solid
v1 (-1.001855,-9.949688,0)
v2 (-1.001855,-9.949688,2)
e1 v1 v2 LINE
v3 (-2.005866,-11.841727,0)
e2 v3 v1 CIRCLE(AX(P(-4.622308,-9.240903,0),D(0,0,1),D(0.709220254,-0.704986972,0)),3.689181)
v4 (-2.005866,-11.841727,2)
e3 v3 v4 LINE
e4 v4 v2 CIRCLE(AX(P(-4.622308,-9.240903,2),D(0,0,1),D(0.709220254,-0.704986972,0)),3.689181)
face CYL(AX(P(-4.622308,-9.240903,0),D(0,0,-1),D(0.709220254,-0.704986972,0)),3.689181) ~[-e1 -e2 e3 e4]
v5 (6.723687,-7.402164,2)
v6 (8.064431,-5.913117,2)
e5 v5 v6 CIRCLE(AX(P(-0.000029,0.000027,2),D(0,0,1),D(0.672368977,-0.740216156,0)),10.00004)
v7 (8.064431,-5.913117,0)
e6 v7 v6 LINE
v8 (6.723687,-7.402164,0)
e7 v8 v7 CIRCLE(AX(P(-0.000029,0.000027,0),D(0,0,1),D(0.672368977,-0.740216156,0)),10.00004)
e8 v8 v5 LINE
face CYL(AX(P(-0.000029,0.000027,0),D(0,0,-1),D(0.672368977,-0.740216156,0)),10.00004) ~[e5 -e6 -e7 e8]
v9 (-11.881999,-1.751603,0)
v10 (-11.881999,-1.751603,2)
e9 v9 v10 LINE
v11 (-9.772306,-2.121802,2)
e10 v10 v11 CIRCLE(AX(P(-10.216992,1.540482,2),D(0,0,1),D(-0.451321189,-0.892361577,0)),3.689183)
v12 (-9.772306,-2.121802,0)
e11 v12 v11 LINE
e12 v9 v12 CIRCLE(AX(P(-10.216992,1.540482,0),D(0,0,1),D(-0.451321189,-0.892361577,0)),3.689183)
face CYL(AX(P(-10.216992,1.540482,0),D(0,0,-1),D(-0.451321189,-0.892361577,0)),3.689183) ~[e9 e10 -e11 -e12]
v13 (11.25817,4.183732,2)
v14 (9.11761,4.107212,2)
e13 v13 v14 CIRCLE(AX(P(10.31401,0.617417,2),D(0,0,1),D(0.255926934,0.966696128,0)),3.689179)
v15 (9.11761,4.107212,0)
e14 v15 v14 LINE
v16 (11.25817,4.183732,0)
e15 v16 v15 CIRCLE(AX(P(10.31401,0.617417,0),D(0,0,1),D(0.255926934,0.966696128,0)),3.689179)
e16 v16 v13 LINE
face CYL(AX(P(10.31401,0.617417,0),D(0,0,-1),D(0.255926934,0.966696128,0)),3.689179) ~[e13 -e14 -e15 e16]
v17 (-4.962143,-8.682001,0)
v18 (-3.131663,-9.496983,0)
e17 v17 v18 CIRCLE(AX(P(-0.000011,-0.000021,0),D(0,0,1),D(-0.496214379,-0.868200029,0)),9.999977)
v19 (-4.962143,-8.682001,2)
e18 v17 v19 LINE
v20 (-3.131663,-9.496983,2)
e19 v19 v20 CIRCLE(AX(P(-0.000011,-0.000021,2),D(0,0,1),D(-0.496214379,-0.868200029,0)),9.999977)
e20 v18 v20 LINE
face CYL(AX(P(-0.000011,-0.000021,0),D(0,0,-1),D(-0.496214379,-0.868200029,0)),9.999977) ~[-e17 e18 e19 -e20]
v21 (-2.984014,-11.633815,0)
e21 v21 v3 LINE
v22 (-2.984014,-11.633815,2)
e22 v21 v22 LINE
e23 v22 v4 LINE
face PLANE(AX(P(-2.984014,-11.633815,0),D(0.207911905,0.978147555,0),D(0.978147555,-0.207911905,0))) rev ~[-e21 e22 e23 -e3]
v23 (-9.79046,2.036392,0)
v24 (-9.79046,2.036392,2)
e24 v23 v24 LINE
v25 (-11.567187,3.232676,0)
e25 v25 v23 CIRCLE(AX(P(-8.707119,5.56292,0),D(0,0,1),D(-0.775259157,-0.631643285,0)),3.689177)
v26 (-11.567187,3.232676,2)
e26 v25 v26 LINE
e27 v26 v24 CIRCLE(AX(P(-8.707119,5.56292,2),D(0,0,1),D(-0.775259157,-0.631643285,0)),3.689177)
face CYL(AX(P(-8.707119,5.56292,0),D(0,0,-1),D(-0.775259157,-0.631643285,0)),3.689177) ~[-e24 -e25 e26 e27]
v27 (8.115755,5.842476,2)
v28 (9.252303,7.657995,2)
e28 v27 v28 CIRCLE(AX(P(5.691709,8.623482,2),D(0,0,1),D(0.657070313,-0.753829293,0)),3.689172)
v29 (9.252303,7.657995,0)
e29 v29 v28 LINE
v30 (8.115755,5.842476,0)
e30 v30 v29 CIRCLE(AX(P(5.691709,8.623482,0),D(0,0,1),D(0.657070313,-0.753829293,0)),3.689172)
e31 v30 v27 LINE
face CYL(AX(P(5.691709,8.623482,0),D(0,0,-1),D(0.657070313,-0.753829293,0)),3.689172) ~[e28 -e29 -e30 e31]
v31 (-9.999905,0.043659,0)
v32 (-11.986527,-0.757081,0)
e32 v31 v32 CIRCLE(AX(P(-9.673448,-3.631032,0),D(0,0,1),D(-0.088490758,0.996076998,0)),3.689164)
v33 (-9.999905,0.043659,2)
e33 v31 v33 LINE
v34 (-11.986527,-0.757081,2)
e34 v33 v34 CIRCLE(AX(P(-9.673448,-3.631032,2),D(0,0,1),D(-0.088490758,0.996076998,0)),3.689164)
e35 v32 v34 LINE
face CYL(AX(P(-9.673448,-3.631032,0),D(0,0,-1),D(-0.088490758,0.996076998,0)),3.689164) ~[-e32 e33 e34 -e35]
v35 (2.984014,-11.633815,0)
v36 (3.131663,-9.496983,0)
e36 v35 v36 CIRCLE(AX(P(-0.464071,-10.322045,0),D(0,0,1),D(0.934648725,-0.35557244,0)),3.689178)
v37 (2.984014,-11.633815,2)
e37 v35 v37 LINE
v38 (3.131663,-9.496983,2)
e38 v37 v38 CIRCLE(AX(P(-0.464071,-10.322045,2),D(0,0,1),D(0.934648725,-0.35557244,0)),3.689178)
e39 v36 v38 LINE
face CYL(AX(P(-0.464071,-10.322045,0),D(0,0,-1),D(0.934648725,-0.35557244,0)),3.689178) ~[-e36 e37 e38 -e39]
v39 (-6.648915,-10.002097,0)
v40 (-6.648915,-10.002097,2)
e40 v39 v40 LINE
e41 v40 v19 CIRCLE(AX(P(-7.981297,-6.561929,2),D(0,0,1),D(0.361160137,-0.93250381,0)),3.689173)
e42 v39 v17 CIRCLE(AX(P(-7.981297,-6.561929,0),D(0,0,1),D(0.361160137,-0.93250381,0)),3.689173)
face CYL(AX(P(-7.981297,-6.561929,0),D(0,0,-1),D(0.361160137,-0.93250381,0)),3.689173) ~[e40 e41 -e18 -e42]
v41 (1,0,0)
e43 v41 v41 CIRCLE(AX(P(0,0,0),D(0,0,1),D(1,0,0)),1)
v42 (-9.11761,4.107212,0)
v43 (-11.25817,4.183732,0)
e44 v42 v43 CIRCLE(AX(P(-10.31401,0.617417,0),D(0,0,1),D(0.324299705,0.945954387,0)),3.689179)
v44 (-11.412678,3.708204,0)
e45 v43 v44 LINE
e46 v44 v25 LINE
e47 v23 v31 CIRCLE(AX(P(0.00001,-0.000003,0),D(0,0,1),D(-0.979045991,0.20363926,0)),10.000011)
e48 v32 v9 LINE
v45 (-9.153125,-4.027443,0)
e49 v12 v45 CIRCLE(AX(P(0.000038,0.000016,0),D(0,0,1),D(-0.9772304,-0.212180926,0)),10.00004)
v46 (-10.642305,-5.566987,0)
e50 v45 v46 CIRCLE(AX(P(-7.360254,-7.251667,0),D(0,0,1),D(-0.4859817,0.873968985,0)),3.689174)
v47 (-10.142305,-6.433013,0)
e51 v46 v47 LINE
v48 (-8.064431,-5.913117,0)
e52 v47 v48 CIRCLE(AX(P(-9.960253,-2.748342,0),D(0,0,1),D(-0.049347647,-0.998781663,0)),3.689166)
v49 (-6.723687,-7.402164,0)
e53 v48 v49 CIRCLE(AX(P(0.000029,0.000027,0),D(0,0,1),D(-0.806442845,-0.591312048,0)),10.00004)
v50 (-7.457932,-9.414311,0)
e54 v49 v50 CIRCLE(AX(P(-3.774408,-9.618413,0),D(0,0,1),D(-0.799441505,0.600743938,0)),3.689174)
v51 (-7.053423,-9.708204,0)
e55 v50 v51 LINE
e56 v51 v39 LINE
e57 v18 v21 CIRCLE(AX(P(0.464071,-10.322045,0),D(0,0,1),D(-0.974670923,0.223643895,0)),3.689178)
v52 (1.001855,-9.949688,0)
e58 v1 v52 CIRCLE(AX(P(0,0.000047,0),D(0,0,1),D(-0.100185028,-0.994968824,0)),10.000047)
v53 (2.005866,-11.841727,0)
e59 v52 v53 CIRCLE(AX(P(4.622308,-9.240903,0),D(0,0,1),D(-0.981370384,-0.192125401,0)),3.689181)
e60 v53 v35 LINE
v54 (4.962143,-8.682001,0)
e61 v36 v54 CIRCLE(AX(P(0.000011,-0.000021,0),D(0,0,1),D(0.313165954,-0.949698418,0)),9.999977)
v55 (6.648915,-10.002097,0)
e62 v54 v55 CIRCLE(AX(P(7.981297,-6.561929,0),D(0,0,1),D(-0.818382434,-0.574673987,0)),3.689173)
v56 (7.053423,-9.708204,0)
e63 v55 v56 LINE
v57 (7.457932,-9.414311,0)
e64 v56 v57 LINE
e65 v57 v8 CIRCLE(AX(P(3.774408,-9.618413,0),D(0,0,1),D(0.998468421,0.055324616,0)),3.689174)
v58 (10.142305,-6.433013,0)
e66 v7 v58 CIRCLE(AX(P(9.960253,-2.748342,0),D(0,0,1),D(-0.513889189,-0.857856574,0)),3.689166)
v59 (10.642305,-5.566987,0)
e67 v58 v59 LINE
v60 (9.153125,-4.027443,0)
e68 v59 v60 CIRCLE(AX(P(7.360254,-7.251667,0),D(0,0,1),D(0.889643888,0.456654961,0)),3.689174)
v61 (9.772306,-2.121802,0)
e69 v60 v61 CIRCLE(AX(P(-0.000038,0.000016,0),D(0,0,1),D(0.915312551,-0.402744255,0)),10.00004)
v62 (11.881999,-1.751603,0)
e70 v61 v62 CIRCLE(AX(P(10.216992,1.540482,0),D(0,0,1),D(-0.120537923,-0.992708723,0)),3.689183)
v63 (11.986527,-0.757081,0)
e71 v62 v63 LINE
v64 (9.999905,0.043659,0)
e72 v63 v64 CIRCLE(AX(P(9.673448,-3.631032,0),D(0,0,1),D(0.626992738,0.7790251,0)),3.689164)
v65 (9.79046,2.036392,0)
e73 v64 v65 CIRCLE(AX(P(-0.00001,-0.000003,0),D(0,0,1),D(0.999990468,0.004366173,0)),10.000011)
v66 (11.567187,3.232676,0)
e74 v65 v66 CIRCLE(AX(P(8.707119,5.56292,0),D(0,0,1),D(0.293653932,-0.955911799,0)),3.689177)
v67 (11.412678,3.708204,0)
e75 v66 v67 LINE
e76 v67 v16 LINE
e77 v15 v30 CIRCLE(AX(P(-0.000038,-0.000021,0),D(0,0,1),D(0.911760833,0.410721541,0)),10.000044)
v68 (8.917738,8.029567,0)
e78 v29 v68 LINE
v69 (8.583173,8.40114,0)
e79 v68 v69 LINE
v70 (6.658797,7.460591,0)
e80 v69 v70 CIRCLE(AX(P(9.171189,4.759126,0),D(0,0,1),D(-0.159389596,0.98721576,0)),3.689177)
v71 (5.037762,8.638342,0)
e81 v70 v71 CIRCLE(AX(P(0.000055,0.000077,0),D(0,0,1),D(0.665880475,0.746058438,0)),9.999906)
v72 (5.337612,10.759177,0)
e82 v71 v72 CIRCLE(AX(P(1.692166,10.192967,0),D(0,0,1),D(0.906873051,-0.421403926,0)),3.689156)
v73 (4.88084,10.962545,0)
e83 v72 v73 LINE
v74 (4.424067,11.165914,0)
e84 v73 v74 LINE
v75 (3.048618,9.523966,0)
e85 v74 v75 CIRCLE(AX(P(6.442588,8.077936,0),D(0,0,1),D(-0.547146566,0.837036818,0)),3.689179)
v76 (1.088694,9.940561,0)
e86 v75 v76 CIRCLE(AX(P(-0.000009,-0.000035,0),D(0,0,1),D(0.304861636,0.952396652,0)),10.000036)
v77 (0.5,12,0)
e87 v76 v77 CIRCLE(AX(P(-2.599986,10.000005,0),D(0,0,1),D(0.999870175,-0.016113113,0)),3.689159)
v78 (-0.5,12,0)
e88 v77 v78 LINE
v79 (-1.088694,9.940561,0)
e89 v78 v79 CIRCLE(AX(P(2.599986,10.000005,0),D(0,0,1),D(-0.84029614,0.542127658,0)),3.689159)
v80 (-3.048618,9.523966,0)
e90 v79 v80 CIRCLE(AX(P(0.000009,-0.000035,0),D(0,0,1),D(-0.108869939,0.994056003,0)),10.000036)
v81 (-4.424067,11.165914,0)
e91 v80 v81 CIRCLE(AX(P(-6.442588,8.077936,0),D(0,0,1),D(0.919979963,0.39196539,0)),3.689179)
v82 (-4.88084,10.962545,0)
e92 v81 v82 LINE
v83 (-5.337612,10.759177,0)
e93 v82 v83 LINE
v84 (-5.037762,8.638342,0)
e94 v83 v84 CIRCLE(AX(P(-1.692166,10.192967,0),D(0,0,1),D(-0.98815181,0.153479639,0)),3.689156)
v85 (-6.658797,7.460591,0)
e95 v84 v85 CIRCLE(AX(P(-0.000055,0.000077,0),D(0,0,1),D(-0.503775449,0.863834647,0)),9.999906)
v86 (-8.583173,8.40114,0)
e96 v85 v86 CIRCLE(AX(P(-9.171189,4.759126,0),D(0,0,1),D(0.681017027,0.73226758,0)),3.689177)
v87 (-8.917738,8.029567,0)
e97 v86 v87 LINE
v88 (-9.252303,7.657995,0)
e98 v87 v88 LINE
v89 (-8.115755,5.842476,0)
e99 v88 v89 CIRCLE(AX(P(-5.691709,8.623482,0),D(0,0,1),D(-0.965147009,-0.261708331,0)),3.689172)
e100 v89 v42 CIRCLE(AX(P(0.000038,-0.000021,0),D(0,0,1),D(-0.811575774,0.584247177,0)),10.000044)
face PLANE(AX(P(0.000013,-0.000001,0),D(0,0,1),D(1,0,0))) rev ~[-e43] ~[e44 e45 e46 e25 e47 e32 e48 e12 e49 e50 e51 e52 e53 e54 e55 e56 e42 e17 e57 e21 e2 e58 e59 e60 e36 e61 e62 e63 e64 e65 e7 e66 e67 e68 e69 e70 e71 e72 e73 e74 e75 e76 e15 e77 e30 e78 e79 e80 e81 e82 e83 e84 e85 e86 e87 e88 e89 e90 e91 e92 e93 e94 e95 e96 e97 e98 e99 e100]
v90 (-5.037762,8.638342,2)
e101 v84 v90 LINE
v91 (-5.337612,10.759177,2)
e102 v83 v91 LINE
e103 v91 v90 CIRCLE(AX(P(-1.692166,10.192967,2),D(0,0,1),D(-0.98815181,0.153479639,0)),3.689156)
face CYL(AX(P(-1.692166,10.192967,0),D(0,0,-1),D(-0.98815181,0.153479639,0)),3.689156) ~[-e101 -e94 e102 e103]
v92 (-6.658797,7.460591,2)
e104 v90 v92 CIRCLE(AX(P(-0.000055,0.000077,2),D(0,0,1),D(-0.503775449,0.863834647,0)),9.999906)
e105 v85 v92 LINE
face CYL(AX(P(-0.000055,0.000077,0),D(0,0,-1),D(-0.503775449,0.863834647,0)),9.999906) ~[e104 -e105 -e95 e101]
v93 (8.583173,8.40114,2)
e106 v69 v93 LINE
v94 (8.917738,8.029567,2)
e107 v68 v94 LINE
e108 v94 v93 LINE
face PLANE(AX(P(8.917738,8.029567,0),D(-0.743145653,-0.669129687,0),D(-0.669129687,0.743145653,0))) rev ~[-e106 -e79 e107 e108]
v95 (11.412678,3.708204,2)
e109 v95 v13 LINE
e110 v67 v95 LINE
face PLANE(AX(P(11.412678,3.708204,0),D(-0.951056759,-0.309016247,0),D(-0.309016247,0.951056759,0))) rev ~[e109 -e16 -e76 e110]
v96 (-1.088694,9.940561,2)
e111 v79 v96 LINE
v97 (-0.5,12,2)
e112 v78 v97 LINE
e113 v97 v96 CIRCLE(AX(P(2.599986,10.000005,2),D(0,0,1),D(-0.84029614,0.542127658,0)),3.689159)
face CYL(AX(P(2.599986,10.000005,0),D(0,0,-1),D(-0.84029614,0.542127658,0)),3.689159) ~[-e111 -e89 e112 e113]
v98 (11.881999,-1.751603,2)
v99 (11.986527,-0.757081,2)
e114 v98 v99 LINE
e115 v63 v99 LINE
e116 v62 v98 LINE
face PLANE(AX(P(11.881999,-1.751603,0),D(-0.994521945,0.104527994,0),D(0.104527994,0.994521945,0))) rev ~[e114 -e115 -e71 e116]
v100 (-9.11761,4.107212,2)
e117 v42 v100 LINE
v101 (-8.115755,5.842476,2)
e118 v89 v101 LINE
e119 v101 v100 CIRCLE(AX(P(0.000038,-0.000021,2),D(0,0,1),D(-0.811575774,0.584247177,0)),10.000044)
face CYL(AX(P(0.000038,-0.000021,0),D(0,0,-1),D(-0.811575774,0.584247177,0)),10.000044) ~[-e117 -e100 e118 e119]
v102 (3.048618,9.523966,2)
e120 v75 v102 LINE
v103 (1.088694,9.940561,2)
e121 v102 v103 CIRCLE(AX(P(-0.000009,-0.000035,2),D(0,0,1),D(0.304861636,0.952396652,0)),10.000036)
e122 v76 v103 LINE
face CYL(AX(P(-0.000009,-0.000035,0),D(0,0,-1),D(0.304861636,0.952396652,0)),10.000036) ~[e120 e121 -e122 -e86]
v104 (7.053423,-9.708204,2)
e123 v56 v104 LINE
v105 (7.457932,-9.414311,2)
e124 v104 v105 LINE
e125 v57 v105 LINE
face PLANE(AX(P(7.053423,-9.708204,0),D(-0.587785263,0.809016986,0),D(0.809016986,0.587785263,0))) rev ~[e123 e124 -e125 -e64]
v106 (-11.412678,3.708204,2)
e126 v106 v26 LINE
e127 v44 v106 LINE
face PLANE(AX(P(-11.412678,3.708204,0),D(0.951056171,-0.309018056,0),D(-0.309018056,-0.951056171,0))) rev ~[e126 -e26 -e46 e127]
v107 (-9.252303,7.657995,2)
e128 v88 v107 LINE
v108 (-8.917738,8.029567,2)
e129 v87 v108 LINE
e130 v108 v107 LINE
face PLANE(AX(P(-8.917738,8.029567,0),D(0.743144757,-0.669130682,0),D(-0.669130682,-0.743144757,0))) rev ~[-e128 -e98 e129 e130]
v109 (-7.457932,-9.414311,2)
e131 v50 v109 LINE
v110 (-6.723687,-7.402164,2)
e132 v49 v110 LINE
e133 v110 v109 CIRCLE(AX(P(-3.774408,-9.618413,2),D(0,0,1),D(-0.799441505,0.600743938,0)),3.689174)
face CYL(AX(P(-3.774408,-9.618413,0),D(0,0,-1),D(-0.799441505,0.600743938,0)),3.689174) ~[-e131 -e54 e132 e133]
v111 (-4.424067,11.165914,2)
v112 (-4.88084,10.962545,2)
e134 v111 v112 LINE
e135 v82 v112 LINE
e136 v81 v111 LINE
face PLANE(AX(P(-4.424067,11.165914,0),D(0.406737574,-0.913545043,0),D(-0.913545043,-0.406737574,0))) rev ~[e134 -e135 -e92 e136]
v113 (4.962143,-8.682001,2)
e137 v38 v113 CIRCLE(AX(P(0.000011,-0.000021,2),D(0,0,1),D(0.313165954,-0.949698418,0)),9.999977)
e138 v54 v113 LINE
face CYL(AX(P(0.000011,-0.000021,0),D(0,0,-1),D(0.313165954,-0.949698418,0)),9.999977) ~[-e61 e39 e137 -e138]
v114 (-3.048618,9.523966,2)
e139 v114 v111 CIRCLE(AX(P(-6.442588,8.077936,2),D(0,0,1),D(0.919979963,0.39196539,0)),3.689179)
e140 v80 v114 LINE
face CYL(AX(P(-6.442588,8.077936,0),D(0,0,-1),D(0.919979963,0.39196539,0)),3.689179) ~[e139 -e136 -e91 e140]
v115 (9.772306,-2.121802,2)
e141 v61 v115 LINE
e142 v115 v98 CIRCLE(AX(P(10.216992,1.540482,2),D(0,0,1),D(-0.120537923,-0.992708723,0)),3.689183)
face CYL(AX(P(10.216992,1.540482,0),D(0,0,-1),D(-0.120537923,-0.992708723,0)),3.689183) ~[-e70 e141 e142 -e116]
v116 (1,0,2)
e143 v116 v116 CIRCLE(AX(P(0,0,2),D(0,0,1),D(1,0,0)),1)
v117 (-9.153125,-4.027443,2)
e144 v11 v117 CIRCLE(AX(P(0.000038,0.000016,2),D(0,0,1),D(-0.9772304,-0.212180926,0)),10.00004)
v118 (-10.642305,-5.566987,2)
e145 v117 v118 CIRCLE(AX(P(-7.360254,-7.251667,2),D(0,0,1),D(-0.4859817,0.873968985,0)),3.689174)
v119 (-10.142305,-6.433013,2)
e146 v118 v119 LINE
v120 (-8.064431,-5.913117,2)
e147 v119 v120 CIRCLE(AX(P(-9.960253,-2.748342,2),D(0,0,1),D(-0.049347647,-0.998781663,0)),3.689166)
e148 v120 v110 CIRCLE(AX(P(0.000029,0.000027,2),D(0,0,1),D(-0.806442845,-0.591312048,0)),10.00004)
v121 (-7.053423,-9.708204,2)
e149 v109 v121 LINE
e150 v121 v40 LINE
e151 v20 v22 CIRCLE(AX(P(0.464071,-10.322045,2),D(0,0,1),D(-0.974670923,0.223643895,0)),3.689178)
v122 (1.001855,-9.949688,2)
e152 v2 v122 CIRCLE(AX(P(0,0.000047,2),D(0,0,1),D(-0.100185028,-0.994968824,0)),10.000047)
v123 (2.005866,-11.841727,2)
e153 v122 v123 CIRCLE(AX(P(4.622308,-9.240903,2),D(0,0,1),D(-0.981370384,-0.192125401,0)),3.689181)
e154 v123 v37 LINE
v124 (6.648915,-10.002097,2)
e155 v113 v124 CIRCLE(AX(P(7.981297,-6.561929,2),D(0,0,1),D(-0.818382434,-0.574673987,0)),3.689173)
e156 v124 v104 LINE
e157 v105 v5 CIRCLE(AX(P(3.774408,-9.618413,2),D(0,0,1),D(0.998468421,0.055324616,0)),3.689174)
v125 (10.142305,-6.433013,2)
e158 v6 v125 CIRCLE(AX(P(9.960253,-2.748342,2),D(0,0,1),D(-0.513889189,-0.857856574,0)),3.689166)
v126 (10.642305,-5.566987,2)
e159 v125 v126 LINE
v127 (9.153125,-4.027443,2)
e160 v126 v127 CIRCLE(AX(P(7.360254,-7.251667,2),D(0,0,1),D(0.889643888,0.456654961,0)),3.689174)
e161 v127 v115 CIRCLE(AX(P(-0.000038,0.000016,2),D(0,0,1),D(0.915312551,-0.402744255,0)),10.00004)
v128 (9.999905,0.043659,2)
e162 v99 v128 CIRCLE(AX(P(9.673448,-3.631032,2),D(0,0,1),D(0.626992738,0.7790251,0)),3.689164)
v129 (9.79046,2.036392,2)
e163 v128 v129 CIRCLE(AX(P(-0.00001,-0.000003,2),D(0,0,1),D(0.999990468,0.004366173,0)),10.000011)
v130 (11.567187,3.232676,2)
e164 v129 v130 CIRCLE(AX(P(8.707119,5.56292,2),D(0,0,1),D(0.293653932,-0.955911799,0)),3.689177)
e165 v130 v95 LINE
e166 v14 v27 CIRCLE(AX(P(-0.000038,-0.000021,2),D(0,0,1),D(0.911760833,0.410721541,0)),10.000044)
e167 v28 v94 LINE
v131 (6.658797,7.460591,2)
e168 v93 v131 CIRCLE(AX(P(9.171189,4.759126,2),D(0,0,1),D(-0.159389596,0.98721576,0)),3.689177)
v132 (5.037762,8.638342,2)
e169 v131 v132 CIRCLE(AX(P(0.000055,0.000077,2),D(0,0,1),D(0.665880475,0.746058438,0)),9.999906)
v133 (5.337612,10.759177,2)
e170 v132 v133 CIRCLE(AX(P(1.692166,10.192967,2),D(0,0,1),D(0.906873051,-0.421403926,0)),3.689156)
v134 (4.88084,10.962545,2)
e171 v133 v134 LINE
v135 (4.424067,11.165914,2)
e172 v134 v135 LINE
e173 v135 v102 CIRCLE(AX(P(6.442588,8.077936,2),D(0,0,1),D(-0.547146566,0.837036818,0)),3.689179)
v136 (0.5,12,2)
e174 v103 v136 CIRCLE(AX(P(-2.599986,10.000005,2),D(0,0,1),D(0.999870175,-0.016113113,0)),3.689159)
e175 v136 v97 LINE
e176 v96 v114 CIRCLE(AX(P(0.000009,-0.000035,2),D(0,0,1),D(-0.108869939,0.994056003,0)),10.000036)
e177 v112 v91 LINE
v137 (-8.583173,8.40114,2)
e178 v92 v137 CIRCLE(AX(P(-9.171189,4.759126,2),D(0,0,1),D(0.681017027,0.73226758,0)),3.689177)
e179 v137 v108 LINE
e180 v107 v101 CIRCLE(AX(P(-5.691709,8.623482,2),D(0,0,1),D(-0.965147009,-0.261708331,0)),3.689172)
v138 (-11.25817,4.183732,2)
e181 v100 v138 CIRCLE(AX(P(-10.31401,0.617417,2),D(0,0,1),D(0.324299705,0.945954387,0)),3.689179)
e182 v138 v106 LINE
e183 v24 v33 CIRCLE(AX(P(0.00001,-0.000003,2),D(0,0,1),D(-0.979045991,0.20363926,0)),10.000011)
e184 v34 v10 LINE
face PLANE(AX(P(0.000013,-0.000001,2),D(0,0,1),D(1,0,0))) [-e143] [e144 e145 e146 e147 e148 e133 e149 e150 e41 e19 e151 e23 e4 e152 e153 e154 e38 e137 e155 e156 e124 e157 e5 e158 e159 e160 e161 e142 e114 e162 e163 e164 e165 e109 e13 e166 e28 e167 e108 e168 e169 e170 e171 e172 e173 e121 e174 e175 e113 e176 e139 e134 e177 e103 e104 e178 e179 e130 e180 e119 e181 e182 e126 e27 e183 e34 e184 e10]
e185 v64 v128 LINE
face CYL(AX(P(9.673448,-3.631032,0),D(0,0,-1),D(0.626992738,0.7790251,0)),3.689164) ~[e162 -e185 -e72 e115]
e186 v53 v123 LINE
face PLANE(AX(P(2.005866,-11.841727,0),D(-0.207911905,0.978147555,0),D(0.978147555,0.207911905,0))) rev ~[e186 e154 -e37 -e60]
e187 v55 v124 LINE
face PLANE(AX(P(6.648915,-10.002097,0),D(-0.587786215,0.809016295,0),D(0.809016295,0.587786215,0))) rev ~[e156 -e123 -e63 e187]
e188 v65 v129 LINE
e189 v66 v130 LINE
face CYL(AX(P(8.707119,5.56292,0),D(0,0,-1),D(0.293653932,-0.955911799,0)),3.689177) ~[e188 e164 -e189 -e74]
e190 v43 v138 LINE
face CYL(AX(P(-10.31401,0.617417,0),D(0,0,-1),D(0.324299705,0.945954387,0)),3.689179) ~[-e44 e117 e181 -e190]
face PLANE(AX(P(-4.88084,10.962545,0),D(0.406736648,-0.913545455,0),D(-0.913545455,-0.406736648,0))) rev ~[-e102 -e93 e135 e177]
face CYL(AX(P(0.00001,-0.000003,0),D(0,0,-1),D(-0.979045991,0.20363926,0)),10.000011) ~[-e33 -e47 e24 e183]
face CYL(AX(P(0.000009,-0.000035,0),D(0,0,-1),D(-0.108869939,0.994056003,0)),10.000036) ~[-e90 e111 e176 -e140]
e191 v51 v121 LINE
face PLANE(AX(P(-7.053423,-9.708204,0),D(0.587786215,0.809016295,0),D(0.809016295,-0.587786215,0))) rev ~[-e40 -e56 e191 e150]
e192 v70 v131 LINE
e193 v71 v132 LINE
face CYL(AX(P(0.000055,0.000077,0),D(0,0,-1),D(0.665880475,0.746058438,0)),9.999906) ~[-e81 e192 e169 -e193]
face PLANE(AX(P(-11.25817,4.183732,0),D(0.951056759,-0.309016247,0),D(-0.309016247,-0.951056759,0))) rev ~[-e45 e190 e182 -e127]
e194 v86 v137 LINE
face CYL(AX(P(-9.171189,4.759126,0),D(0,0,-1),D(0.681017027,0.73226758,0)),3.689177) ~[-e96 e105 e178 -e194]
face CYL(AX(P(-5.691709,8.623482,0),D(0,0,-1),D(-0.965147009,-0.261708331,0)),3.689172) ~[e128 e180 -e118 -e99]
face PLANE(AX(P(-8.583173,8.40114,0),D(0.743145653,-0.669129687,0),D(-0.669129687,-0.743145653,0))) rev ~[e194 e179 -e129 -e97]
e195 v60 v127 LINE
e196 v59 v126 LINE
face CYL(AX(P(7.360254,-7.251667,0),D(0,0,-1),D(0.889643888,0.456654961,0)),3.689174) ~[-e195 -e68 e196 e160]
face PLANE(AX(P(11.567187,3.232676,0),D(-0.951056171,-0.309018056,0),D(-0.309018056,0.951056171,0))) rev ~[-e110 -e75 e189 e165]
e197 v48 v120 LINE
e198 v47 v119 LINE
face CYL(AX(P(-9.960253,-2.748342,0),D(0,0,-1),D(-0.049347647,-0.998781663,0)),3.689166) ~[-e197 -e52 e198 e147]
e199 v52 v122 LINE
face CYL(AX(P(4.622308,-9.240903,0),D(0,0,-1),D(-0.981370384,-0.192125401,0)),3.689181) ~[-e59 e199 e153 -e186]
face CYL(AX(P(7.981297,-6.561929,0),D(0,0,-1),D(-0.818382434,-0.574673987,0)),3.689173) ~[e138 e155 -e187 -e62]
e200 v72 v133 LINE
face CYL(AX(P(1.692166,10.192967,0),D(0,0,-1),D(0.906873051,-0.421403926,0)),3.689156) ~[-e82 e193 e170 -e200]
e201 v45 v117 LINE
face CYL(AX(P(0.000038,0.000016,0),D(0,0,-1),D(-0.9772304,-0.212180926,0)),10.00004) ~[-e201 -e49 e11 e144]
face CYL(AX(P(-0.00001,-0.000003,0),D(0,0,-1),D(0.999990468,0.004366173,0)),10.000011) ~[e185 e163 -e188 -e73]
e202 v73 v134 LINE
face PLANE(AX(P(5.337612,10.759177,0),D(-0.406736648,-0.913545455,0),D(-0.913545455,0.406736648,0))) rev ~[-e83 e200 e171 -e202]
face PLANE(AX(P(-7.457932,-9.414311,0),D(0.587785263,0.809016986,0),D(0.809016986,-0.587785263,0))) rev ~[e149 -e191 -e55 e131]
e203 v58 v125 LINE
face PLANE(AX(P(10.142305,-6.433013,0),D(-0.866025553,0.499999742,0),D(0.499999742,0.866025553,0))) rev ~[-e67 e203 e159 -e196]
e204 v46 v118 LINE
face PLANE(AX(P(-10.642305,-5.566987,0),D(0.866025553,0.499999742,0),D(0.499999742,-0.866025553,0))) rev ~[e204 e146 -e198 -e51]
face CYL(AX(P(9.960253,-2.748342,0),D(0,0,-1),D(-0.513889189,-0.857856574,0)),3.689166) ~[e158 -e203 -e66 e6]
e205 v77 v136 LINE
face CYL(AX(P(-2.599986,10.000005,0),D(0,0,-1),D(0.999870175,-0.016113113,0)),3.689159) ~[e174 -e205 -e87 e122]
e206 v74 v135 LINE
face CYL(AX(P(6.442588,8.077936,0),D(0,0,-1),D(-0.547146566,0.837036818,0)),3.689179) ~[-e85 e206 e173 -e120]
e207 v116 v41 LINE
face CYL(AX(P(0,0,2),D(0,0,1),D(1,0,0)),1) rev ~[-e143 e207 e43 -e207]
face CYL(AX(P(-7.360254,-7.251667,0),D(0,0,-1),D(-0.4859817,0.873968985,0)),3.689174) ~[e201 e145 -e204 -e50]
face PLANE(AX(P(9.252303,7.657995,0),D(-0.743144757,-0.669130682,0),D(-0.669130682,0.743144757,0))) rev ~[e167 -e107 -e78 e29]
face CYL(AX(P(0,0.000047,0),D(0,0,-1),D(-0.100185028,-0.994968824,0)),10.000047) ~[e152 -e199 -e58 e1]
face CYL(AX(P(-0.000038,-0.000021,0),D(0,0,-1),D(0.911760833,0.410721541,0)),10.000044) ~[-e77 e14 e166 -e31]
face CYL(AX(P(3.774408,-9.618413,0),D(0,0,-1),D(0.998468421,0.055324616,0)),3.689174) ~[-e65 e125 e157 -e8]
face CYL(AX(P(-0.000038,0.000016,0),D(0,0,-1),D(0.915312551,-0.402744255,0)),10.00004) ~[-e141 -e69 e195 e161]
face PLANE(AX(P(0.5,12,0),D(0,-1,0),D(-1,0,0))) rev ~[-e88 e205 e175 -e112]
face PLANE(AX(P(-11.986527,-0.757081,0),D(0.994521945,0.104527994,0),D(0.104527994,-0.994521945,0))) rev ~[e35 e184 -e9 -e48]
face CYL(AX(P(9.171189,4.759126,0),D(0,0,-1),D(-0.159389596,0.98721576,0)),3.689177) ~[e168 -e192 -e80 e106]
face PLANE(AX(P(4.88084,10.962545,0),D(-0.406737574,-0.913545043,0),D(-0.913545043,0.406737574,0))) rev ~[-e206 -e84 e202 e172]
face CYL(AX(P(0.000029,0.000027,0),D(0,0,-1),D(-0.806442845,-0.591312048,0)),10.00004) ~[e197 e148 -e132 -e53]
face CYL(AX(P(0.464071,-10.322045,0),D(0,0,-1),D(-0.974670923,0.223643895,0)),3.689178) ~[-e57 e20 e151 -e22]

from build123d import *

# Parameters (mm, degrees)
F1_DEPTH = 2
F2_R     = 1
F3_DEPTH = 2.001


with BuildPart() as f1:
    # F0 (on Top) → F1 (new body)
    with BuildSketch(Plane.XY):
        with BuildLine():
            ThreePointArc((9.772306, -2.121802), (9.942913, -1.066992), (10, 0))
            ThreePointArc((10, 0), (9.999976, 0.02183), (9.999905, 0.043659))
            ThreePointArc((9.999905, 0.043659), (9.945219, 1.045285), (9.79046, 2.036392))
            ThreePointArc((9.79046, 2.036392), (9.510565, 3.09017), (9.11761, 4.107212))
            ThreePointArc((9.11761, 4.107212), (8.660254, 5), (8.115755, 5.842476))
            ThreePointArc((8.115755, 5.842476), (7.431448, 6.691306), (6.658797, 7.460591))
            ThreePointArc((6.658797, 7.460591), (5.877853, 8.09017), (5.037762, 8.638342))
            ThreePointArc((5.037762, 8.638342), (4.067366, 9.135455), (3.048618, 9.523966))
            ThreePointArc((3.048618, 9.523966), (2.079117, 9.781476), (1.088694, 9.940561))
            ThreePointArc((1.088694, 9.940561), (0, 10), (-1.088694, 9.940561))
            ThreePointArc((-1.088694, 9.940561), (-2.079117, 9.781476), (-3.048618, 9.523966))
            ThreePointArc((-3.048618, 9.523966), (-4.067366, 9.135455), (-5.037762, 8.638342))
            ThreePointArc((-5.037762, 8.638342), (-5.877853, 8.09017), (-6.658797, 7.460591))
            ThreePointArc((-6.658797, 7.460591), (-7.431448, 6.691306), (-8.115755, 5.842476))
            ThreePointArc((-8.115755, 5.842476), (-8.660254, 5), (-9.11761, 4.107212))
            ThreePointArc((-9.11761, 4.107212), (-9.510565, 3.09017), (-9.79046, 2.036392))
            ThreePointArc((-9.79046, 2.036392), (-9.945219, 1.045285), (-9.999905, 0.043659))
            ThreePointArc((-9.999905, 0.043659), (-9.945219, -1.045285), (-9.772306, -2.121802))
            ThreePointArc((-9.772306, -2.121802), (-9.510565, -3.09017), (-9.153125, -4.027443))
            ThreePointArc((-9.153125, -4.027443), (-8.660254, -5), (-8.064431, -5.913117))
            ThreePointArc((-8.064431, -5.913117), (-7.431448, -6.691306), (-6.723687, -7.402164))
            ThreePointArc((-6.723687, -7.402164), (-5.877853, -8.09017), (-4.962143, -8.682001))
            ThreePointArc((-4.962143, -8.682001), (-4.067366, -9.135455), (-3.131663, -9.496983))
            ThreePointArc((-3.131663, -9.496983), (-2.079117, -9.781476), (-1.001855, -9.949688))
            ThreePointArc((-1.001855, -9.949688), (0, -10), (1.001855, -9.949688))
            ThreePointArc((1.001855, -9.949688), (2.079117, -9.781476), (3.131663, -9.496983))
            ThreePointArc((3.131663, -9.496983), (4.067366, -9.135455), (4.962143, -8.682001))
            ThreePointArc((4.962143, -8.682001), (5.877853, -8.09017), (6.723687, -7.402164))
            ThreePointArc((6.723687, -7.402164), (7.431448, -6.691306), (8.064431, -5.913117))
            ThreePointArc((8.064431, -5.913117), (8.660254, -5), (9.153125, -4.027443))
            ThreePointArc((9.153125, -4.027443), (9.510565, -3.09017), (9.772306, -2.121802))
        make_face()
        with BuildLine():
            ThreePointArc((9.999905, 0.043659), (9.999976, 0.02183), (10, 0))
            ThreePointArc((10, 0), (9.942913, -1.066992), (9.772306, -2.121802))
            ThreePointArc((9.772306, -2.121802), (10.85461, -2.093182), (11.881999, -1.751603))
            Line((11.881999, -1.751603), (11.934263, -1.254342))
            Line((11.934263, -1.254342), (11.986527, -0.757081))
            ThreePointArc((11.986527, -0.757081), (11.052608, -0.209359), (9.999905, 0.043659))
        make_face()
        with BuildLine():
            ThreePointArc((9.11761, 4.107212), (9.510565, 3.09017), (9.79046, 2.036392))
            ThreePointArc((9.79046, 2.036392), (10.767554, 2.502751), (11.567187, 3.232676))
            Line((11.567187, 3.232676), (11.412678, 3.708204))
            Line((11.412678, 3.708204), (11.25817, 4.183732))
            ThreePointArc((11.25817, 4.183732), (10.182214, 4.304241), (9.11761, 4.107212))
        make_face()
        with BuildLine():
            ThreePointArc((10.642305, -5.566987), (10.011906, -4.68676), (9.153125, -4.027443))
            ThreePointArc((9.153125, -4.027443), (8.660254, -5), (8.064431, -5.913117))
            ThreePointArc((8.064431, -5.913117), (9.064806, -6.327185), (10.142305, -6.433013))
            Line((10.142305, -6.433013), (10.392305, -6))
            Line((10.392305, -6), (10.642305, -5.566987))
        make_face()
        with BuildLine():
            ThreePointArc((6.658797, 7.460591), (7.431448, 6.691306), (8.115755, 5.842476))
            ThreePointArc((8.115755, 5.842476), (8.818689, 6.665935), (9.252303, 7.657995))
            Line((9.252303, 7.657995), (8.917738, 8.029567))
            Line((8.917738, 8.029567), (8.583173, 8.40114))
            ThreePointArc((8.583173, 8.40114), (7.551223, 8.0736), (6.658797, 7.460591))
        make_face()
        with BuildLine():
            ThreePointArc((7.457932, -9.414311), (7.240054, -8.353777), (6.723687, -7.402164))
            ThreePointArc((6.723687, -7.402164), (5.877853, -8.09017), (4.962143, -8.682001))
            ThreePointArc((4.962143, -8.682001), (5.707615, -9.46716), (6.648915, -10.002097))
            Line((6.648915, -10.002097), (7.053423, -9.708204))
            Line((7.053423, -9.708204), (7.457932, -9.414311))
        make_face()
        with BuildLine():
            ThreePointArc((3.048618, 9.523966), (4.067366, 9.135455), (5.037762, 8.638342))
            ThreePointArc((5.037762, 8.638342), (5.344994, 9.676519), (5.337612, 10.759177))
            Line((5.337612, 10.759177), (4.88084, 10.962545))
            Line((4.88084, 10.962545), (4.424067, 11.165914))
            ThreePointArc((4.424067, 11.165914), (3.614556, 10.446959), (3.048618, 9.523966))
        make_face()
        with BuildLine():
            ThreePointArc((2.984014, -11.633815), (3.216331, -10.576351), (3.131663, -9.496983))
            ThreePointArc((3.131663, -9.496983), (2.079117, -9.781476), (1.001855, -9.949688))
            ThreePointArc((1.001855, -9.949688), (1.363525, -10.970177), (2.005866, -11.841727))
            Line((2.005866, -11.841727), (2.49494, -11.737771))
            Line((2.49494, -11.737771), (2.984014, -11.633815))
        make_face()
        with BuildLine():
            ThreePointArc((-1.088694, 9.940561), (0, 10), (1.088694, 9.940561))
            ThreePointArc((1.088694, 9.940561), (0.9471, 11.013945), (0.5, 12))
            Line((0.5, 12), (0, 12))
            Line((0, 12), (-0.5, 12))
            ThreePointArc((-0.5, 12), (-0.9471, 11.013945), (-1.088694, 9.940561))
        make_face()
        with BuildLine():
            ThreePointArc((-2.005866, -11.841727), (-1.363525, -10.970177), (-1.001855, -9.949688))
            ThreePointArc((-1.001855, -9.949688), (-2.079117, -9.781476), (-3.131663, -9.496983))
            ThreePointArc((-3.131663, -9.496983), (-3.216331, -10.576351), (-2.984014, -11.633815))
            Line((-2.984014, -11.633815), (-2.49494, -11.737771))
            Line((-2.49494, -11.737771), (-2.005866, -11.841727))
        make_face()
        with BuildLine():
            ThreePointArc((-5.037762, 8.638342), (-4.067366, 9.135455), (-3.048618, 9.523966))
            ThreePointArc((-3.048618, 9.523966), (-3.614556, 10.446959), (-4.424067, 11.165914))
            Line((-4.424067, 11.165914), (-4.88084, 10.962545))
            Line((-4.88084, 10.962545), (-5.337612, 10.759177))
            ThreePointArc((-5.337612, 10.759177), (-5.344994, 9.676519), (-5.037762, 8.638342))
        make_face()
        with BuildLine():
            ThreePointArc((-6.648915, -10.002097), (-5.707615, -9.46716), (-4.962143, -8.682001))
            ThreePointArc((-4.962143, -8.682001), (-5.877853, -8.09017), (-6.723687, -7.402164))
            ThreePointArc((-6.723687, -7.402164), (-7.240054, -8.353777), (-7.457932, -9.414311))
            Line((-7.457932, -9.414311), (-7.053423, -9.708204))
            Line((-7.053423, -9.708204), (-6.648915, -10.002097))
        make_face()
        with BuildLine():
            ThreePointArc((-8.115755, 5.842476), (-7.431448, 6.691306), (-6.658797, 7.460591))
            ThreePointArc((-6.658797, 7.460591), (-7.551223, 8.0736), (-8.583173, 8.40114))
            Line((-8.583173, 8.40114), (-8.917738, 8.029567))
            Line((-8.917738, 8.029567), (-9.252303, 7.657995))
            ThreePointArc((-9.252303, 7.657995), (-8.818689, 6.665935), (-8.115755, 5.842476))
        make_face()
        with BuildLine():
            ThreePointArc((-10.142305, -6.433013), (-9.064806, -6.327185), (-8.064431, -5.913117))
            ThreePointArc((-8.064431, -5.913117), (-8.660254, -5), (-9.153125, -4.027443))
            ThreePointArc((-9.153125, -4.027443), (-10.011906, -4.68676), (-10.642305, -5.566987))
            Line((-10.642305, -5.566987), (-10.392305, -6))
            Line((-10.392305, -6), (-10.142305, -6.433013))
        make_face()
        with BuildLine():
            ThreePointArc((-9.79046, 2.036392), (-9.510565, 3.09017), (-9.11761, 4.107212))
            ThreePointArc((-9.11761, 4.107212), (-10.182214, 4.304241), (-11.25817, 4.183732))
            Line((-11.25817, 4.183732), (-11.412678, 3.708204))
            Line((-11.412678, 3.708204), (-11.567187, 3.232676))
            ThreePointArc((-11.567187, 3.232676), (-10.767554, 2.502751), (-9.79046, 2.036392))
        make_face()
        with BuildLine():
            ThreePointArc((-11.881999, -1.751603), (-10.85461, -2.093182), (-9.772306, -2.121802))
            ThreePointArc((-9.772306, -2.121802), (-9.945219, -1.045285), (-9.999905, 0.043659))
            ThreePointArc((-9.999905, 0.043659), (-11.052608, -0.209359), (-11.986527, -0.757081))
            Line((-11.986527, -0.757081), (-11.934263, -1.254342))
            Line((-11.934263, -1.254342), (-11.881999, -1.751603))
        make_face()
    extrude(amount=F1_DEPTH)

    # F2 (on face) → F3 (cut, through all)
    with BuildSketch(Plane.XY.offset(2)):
        Circle(F2_R)
    extrude(amount=-F3_DEPTH, mode=Mode.SUBTRACT)


solid = f1.part
